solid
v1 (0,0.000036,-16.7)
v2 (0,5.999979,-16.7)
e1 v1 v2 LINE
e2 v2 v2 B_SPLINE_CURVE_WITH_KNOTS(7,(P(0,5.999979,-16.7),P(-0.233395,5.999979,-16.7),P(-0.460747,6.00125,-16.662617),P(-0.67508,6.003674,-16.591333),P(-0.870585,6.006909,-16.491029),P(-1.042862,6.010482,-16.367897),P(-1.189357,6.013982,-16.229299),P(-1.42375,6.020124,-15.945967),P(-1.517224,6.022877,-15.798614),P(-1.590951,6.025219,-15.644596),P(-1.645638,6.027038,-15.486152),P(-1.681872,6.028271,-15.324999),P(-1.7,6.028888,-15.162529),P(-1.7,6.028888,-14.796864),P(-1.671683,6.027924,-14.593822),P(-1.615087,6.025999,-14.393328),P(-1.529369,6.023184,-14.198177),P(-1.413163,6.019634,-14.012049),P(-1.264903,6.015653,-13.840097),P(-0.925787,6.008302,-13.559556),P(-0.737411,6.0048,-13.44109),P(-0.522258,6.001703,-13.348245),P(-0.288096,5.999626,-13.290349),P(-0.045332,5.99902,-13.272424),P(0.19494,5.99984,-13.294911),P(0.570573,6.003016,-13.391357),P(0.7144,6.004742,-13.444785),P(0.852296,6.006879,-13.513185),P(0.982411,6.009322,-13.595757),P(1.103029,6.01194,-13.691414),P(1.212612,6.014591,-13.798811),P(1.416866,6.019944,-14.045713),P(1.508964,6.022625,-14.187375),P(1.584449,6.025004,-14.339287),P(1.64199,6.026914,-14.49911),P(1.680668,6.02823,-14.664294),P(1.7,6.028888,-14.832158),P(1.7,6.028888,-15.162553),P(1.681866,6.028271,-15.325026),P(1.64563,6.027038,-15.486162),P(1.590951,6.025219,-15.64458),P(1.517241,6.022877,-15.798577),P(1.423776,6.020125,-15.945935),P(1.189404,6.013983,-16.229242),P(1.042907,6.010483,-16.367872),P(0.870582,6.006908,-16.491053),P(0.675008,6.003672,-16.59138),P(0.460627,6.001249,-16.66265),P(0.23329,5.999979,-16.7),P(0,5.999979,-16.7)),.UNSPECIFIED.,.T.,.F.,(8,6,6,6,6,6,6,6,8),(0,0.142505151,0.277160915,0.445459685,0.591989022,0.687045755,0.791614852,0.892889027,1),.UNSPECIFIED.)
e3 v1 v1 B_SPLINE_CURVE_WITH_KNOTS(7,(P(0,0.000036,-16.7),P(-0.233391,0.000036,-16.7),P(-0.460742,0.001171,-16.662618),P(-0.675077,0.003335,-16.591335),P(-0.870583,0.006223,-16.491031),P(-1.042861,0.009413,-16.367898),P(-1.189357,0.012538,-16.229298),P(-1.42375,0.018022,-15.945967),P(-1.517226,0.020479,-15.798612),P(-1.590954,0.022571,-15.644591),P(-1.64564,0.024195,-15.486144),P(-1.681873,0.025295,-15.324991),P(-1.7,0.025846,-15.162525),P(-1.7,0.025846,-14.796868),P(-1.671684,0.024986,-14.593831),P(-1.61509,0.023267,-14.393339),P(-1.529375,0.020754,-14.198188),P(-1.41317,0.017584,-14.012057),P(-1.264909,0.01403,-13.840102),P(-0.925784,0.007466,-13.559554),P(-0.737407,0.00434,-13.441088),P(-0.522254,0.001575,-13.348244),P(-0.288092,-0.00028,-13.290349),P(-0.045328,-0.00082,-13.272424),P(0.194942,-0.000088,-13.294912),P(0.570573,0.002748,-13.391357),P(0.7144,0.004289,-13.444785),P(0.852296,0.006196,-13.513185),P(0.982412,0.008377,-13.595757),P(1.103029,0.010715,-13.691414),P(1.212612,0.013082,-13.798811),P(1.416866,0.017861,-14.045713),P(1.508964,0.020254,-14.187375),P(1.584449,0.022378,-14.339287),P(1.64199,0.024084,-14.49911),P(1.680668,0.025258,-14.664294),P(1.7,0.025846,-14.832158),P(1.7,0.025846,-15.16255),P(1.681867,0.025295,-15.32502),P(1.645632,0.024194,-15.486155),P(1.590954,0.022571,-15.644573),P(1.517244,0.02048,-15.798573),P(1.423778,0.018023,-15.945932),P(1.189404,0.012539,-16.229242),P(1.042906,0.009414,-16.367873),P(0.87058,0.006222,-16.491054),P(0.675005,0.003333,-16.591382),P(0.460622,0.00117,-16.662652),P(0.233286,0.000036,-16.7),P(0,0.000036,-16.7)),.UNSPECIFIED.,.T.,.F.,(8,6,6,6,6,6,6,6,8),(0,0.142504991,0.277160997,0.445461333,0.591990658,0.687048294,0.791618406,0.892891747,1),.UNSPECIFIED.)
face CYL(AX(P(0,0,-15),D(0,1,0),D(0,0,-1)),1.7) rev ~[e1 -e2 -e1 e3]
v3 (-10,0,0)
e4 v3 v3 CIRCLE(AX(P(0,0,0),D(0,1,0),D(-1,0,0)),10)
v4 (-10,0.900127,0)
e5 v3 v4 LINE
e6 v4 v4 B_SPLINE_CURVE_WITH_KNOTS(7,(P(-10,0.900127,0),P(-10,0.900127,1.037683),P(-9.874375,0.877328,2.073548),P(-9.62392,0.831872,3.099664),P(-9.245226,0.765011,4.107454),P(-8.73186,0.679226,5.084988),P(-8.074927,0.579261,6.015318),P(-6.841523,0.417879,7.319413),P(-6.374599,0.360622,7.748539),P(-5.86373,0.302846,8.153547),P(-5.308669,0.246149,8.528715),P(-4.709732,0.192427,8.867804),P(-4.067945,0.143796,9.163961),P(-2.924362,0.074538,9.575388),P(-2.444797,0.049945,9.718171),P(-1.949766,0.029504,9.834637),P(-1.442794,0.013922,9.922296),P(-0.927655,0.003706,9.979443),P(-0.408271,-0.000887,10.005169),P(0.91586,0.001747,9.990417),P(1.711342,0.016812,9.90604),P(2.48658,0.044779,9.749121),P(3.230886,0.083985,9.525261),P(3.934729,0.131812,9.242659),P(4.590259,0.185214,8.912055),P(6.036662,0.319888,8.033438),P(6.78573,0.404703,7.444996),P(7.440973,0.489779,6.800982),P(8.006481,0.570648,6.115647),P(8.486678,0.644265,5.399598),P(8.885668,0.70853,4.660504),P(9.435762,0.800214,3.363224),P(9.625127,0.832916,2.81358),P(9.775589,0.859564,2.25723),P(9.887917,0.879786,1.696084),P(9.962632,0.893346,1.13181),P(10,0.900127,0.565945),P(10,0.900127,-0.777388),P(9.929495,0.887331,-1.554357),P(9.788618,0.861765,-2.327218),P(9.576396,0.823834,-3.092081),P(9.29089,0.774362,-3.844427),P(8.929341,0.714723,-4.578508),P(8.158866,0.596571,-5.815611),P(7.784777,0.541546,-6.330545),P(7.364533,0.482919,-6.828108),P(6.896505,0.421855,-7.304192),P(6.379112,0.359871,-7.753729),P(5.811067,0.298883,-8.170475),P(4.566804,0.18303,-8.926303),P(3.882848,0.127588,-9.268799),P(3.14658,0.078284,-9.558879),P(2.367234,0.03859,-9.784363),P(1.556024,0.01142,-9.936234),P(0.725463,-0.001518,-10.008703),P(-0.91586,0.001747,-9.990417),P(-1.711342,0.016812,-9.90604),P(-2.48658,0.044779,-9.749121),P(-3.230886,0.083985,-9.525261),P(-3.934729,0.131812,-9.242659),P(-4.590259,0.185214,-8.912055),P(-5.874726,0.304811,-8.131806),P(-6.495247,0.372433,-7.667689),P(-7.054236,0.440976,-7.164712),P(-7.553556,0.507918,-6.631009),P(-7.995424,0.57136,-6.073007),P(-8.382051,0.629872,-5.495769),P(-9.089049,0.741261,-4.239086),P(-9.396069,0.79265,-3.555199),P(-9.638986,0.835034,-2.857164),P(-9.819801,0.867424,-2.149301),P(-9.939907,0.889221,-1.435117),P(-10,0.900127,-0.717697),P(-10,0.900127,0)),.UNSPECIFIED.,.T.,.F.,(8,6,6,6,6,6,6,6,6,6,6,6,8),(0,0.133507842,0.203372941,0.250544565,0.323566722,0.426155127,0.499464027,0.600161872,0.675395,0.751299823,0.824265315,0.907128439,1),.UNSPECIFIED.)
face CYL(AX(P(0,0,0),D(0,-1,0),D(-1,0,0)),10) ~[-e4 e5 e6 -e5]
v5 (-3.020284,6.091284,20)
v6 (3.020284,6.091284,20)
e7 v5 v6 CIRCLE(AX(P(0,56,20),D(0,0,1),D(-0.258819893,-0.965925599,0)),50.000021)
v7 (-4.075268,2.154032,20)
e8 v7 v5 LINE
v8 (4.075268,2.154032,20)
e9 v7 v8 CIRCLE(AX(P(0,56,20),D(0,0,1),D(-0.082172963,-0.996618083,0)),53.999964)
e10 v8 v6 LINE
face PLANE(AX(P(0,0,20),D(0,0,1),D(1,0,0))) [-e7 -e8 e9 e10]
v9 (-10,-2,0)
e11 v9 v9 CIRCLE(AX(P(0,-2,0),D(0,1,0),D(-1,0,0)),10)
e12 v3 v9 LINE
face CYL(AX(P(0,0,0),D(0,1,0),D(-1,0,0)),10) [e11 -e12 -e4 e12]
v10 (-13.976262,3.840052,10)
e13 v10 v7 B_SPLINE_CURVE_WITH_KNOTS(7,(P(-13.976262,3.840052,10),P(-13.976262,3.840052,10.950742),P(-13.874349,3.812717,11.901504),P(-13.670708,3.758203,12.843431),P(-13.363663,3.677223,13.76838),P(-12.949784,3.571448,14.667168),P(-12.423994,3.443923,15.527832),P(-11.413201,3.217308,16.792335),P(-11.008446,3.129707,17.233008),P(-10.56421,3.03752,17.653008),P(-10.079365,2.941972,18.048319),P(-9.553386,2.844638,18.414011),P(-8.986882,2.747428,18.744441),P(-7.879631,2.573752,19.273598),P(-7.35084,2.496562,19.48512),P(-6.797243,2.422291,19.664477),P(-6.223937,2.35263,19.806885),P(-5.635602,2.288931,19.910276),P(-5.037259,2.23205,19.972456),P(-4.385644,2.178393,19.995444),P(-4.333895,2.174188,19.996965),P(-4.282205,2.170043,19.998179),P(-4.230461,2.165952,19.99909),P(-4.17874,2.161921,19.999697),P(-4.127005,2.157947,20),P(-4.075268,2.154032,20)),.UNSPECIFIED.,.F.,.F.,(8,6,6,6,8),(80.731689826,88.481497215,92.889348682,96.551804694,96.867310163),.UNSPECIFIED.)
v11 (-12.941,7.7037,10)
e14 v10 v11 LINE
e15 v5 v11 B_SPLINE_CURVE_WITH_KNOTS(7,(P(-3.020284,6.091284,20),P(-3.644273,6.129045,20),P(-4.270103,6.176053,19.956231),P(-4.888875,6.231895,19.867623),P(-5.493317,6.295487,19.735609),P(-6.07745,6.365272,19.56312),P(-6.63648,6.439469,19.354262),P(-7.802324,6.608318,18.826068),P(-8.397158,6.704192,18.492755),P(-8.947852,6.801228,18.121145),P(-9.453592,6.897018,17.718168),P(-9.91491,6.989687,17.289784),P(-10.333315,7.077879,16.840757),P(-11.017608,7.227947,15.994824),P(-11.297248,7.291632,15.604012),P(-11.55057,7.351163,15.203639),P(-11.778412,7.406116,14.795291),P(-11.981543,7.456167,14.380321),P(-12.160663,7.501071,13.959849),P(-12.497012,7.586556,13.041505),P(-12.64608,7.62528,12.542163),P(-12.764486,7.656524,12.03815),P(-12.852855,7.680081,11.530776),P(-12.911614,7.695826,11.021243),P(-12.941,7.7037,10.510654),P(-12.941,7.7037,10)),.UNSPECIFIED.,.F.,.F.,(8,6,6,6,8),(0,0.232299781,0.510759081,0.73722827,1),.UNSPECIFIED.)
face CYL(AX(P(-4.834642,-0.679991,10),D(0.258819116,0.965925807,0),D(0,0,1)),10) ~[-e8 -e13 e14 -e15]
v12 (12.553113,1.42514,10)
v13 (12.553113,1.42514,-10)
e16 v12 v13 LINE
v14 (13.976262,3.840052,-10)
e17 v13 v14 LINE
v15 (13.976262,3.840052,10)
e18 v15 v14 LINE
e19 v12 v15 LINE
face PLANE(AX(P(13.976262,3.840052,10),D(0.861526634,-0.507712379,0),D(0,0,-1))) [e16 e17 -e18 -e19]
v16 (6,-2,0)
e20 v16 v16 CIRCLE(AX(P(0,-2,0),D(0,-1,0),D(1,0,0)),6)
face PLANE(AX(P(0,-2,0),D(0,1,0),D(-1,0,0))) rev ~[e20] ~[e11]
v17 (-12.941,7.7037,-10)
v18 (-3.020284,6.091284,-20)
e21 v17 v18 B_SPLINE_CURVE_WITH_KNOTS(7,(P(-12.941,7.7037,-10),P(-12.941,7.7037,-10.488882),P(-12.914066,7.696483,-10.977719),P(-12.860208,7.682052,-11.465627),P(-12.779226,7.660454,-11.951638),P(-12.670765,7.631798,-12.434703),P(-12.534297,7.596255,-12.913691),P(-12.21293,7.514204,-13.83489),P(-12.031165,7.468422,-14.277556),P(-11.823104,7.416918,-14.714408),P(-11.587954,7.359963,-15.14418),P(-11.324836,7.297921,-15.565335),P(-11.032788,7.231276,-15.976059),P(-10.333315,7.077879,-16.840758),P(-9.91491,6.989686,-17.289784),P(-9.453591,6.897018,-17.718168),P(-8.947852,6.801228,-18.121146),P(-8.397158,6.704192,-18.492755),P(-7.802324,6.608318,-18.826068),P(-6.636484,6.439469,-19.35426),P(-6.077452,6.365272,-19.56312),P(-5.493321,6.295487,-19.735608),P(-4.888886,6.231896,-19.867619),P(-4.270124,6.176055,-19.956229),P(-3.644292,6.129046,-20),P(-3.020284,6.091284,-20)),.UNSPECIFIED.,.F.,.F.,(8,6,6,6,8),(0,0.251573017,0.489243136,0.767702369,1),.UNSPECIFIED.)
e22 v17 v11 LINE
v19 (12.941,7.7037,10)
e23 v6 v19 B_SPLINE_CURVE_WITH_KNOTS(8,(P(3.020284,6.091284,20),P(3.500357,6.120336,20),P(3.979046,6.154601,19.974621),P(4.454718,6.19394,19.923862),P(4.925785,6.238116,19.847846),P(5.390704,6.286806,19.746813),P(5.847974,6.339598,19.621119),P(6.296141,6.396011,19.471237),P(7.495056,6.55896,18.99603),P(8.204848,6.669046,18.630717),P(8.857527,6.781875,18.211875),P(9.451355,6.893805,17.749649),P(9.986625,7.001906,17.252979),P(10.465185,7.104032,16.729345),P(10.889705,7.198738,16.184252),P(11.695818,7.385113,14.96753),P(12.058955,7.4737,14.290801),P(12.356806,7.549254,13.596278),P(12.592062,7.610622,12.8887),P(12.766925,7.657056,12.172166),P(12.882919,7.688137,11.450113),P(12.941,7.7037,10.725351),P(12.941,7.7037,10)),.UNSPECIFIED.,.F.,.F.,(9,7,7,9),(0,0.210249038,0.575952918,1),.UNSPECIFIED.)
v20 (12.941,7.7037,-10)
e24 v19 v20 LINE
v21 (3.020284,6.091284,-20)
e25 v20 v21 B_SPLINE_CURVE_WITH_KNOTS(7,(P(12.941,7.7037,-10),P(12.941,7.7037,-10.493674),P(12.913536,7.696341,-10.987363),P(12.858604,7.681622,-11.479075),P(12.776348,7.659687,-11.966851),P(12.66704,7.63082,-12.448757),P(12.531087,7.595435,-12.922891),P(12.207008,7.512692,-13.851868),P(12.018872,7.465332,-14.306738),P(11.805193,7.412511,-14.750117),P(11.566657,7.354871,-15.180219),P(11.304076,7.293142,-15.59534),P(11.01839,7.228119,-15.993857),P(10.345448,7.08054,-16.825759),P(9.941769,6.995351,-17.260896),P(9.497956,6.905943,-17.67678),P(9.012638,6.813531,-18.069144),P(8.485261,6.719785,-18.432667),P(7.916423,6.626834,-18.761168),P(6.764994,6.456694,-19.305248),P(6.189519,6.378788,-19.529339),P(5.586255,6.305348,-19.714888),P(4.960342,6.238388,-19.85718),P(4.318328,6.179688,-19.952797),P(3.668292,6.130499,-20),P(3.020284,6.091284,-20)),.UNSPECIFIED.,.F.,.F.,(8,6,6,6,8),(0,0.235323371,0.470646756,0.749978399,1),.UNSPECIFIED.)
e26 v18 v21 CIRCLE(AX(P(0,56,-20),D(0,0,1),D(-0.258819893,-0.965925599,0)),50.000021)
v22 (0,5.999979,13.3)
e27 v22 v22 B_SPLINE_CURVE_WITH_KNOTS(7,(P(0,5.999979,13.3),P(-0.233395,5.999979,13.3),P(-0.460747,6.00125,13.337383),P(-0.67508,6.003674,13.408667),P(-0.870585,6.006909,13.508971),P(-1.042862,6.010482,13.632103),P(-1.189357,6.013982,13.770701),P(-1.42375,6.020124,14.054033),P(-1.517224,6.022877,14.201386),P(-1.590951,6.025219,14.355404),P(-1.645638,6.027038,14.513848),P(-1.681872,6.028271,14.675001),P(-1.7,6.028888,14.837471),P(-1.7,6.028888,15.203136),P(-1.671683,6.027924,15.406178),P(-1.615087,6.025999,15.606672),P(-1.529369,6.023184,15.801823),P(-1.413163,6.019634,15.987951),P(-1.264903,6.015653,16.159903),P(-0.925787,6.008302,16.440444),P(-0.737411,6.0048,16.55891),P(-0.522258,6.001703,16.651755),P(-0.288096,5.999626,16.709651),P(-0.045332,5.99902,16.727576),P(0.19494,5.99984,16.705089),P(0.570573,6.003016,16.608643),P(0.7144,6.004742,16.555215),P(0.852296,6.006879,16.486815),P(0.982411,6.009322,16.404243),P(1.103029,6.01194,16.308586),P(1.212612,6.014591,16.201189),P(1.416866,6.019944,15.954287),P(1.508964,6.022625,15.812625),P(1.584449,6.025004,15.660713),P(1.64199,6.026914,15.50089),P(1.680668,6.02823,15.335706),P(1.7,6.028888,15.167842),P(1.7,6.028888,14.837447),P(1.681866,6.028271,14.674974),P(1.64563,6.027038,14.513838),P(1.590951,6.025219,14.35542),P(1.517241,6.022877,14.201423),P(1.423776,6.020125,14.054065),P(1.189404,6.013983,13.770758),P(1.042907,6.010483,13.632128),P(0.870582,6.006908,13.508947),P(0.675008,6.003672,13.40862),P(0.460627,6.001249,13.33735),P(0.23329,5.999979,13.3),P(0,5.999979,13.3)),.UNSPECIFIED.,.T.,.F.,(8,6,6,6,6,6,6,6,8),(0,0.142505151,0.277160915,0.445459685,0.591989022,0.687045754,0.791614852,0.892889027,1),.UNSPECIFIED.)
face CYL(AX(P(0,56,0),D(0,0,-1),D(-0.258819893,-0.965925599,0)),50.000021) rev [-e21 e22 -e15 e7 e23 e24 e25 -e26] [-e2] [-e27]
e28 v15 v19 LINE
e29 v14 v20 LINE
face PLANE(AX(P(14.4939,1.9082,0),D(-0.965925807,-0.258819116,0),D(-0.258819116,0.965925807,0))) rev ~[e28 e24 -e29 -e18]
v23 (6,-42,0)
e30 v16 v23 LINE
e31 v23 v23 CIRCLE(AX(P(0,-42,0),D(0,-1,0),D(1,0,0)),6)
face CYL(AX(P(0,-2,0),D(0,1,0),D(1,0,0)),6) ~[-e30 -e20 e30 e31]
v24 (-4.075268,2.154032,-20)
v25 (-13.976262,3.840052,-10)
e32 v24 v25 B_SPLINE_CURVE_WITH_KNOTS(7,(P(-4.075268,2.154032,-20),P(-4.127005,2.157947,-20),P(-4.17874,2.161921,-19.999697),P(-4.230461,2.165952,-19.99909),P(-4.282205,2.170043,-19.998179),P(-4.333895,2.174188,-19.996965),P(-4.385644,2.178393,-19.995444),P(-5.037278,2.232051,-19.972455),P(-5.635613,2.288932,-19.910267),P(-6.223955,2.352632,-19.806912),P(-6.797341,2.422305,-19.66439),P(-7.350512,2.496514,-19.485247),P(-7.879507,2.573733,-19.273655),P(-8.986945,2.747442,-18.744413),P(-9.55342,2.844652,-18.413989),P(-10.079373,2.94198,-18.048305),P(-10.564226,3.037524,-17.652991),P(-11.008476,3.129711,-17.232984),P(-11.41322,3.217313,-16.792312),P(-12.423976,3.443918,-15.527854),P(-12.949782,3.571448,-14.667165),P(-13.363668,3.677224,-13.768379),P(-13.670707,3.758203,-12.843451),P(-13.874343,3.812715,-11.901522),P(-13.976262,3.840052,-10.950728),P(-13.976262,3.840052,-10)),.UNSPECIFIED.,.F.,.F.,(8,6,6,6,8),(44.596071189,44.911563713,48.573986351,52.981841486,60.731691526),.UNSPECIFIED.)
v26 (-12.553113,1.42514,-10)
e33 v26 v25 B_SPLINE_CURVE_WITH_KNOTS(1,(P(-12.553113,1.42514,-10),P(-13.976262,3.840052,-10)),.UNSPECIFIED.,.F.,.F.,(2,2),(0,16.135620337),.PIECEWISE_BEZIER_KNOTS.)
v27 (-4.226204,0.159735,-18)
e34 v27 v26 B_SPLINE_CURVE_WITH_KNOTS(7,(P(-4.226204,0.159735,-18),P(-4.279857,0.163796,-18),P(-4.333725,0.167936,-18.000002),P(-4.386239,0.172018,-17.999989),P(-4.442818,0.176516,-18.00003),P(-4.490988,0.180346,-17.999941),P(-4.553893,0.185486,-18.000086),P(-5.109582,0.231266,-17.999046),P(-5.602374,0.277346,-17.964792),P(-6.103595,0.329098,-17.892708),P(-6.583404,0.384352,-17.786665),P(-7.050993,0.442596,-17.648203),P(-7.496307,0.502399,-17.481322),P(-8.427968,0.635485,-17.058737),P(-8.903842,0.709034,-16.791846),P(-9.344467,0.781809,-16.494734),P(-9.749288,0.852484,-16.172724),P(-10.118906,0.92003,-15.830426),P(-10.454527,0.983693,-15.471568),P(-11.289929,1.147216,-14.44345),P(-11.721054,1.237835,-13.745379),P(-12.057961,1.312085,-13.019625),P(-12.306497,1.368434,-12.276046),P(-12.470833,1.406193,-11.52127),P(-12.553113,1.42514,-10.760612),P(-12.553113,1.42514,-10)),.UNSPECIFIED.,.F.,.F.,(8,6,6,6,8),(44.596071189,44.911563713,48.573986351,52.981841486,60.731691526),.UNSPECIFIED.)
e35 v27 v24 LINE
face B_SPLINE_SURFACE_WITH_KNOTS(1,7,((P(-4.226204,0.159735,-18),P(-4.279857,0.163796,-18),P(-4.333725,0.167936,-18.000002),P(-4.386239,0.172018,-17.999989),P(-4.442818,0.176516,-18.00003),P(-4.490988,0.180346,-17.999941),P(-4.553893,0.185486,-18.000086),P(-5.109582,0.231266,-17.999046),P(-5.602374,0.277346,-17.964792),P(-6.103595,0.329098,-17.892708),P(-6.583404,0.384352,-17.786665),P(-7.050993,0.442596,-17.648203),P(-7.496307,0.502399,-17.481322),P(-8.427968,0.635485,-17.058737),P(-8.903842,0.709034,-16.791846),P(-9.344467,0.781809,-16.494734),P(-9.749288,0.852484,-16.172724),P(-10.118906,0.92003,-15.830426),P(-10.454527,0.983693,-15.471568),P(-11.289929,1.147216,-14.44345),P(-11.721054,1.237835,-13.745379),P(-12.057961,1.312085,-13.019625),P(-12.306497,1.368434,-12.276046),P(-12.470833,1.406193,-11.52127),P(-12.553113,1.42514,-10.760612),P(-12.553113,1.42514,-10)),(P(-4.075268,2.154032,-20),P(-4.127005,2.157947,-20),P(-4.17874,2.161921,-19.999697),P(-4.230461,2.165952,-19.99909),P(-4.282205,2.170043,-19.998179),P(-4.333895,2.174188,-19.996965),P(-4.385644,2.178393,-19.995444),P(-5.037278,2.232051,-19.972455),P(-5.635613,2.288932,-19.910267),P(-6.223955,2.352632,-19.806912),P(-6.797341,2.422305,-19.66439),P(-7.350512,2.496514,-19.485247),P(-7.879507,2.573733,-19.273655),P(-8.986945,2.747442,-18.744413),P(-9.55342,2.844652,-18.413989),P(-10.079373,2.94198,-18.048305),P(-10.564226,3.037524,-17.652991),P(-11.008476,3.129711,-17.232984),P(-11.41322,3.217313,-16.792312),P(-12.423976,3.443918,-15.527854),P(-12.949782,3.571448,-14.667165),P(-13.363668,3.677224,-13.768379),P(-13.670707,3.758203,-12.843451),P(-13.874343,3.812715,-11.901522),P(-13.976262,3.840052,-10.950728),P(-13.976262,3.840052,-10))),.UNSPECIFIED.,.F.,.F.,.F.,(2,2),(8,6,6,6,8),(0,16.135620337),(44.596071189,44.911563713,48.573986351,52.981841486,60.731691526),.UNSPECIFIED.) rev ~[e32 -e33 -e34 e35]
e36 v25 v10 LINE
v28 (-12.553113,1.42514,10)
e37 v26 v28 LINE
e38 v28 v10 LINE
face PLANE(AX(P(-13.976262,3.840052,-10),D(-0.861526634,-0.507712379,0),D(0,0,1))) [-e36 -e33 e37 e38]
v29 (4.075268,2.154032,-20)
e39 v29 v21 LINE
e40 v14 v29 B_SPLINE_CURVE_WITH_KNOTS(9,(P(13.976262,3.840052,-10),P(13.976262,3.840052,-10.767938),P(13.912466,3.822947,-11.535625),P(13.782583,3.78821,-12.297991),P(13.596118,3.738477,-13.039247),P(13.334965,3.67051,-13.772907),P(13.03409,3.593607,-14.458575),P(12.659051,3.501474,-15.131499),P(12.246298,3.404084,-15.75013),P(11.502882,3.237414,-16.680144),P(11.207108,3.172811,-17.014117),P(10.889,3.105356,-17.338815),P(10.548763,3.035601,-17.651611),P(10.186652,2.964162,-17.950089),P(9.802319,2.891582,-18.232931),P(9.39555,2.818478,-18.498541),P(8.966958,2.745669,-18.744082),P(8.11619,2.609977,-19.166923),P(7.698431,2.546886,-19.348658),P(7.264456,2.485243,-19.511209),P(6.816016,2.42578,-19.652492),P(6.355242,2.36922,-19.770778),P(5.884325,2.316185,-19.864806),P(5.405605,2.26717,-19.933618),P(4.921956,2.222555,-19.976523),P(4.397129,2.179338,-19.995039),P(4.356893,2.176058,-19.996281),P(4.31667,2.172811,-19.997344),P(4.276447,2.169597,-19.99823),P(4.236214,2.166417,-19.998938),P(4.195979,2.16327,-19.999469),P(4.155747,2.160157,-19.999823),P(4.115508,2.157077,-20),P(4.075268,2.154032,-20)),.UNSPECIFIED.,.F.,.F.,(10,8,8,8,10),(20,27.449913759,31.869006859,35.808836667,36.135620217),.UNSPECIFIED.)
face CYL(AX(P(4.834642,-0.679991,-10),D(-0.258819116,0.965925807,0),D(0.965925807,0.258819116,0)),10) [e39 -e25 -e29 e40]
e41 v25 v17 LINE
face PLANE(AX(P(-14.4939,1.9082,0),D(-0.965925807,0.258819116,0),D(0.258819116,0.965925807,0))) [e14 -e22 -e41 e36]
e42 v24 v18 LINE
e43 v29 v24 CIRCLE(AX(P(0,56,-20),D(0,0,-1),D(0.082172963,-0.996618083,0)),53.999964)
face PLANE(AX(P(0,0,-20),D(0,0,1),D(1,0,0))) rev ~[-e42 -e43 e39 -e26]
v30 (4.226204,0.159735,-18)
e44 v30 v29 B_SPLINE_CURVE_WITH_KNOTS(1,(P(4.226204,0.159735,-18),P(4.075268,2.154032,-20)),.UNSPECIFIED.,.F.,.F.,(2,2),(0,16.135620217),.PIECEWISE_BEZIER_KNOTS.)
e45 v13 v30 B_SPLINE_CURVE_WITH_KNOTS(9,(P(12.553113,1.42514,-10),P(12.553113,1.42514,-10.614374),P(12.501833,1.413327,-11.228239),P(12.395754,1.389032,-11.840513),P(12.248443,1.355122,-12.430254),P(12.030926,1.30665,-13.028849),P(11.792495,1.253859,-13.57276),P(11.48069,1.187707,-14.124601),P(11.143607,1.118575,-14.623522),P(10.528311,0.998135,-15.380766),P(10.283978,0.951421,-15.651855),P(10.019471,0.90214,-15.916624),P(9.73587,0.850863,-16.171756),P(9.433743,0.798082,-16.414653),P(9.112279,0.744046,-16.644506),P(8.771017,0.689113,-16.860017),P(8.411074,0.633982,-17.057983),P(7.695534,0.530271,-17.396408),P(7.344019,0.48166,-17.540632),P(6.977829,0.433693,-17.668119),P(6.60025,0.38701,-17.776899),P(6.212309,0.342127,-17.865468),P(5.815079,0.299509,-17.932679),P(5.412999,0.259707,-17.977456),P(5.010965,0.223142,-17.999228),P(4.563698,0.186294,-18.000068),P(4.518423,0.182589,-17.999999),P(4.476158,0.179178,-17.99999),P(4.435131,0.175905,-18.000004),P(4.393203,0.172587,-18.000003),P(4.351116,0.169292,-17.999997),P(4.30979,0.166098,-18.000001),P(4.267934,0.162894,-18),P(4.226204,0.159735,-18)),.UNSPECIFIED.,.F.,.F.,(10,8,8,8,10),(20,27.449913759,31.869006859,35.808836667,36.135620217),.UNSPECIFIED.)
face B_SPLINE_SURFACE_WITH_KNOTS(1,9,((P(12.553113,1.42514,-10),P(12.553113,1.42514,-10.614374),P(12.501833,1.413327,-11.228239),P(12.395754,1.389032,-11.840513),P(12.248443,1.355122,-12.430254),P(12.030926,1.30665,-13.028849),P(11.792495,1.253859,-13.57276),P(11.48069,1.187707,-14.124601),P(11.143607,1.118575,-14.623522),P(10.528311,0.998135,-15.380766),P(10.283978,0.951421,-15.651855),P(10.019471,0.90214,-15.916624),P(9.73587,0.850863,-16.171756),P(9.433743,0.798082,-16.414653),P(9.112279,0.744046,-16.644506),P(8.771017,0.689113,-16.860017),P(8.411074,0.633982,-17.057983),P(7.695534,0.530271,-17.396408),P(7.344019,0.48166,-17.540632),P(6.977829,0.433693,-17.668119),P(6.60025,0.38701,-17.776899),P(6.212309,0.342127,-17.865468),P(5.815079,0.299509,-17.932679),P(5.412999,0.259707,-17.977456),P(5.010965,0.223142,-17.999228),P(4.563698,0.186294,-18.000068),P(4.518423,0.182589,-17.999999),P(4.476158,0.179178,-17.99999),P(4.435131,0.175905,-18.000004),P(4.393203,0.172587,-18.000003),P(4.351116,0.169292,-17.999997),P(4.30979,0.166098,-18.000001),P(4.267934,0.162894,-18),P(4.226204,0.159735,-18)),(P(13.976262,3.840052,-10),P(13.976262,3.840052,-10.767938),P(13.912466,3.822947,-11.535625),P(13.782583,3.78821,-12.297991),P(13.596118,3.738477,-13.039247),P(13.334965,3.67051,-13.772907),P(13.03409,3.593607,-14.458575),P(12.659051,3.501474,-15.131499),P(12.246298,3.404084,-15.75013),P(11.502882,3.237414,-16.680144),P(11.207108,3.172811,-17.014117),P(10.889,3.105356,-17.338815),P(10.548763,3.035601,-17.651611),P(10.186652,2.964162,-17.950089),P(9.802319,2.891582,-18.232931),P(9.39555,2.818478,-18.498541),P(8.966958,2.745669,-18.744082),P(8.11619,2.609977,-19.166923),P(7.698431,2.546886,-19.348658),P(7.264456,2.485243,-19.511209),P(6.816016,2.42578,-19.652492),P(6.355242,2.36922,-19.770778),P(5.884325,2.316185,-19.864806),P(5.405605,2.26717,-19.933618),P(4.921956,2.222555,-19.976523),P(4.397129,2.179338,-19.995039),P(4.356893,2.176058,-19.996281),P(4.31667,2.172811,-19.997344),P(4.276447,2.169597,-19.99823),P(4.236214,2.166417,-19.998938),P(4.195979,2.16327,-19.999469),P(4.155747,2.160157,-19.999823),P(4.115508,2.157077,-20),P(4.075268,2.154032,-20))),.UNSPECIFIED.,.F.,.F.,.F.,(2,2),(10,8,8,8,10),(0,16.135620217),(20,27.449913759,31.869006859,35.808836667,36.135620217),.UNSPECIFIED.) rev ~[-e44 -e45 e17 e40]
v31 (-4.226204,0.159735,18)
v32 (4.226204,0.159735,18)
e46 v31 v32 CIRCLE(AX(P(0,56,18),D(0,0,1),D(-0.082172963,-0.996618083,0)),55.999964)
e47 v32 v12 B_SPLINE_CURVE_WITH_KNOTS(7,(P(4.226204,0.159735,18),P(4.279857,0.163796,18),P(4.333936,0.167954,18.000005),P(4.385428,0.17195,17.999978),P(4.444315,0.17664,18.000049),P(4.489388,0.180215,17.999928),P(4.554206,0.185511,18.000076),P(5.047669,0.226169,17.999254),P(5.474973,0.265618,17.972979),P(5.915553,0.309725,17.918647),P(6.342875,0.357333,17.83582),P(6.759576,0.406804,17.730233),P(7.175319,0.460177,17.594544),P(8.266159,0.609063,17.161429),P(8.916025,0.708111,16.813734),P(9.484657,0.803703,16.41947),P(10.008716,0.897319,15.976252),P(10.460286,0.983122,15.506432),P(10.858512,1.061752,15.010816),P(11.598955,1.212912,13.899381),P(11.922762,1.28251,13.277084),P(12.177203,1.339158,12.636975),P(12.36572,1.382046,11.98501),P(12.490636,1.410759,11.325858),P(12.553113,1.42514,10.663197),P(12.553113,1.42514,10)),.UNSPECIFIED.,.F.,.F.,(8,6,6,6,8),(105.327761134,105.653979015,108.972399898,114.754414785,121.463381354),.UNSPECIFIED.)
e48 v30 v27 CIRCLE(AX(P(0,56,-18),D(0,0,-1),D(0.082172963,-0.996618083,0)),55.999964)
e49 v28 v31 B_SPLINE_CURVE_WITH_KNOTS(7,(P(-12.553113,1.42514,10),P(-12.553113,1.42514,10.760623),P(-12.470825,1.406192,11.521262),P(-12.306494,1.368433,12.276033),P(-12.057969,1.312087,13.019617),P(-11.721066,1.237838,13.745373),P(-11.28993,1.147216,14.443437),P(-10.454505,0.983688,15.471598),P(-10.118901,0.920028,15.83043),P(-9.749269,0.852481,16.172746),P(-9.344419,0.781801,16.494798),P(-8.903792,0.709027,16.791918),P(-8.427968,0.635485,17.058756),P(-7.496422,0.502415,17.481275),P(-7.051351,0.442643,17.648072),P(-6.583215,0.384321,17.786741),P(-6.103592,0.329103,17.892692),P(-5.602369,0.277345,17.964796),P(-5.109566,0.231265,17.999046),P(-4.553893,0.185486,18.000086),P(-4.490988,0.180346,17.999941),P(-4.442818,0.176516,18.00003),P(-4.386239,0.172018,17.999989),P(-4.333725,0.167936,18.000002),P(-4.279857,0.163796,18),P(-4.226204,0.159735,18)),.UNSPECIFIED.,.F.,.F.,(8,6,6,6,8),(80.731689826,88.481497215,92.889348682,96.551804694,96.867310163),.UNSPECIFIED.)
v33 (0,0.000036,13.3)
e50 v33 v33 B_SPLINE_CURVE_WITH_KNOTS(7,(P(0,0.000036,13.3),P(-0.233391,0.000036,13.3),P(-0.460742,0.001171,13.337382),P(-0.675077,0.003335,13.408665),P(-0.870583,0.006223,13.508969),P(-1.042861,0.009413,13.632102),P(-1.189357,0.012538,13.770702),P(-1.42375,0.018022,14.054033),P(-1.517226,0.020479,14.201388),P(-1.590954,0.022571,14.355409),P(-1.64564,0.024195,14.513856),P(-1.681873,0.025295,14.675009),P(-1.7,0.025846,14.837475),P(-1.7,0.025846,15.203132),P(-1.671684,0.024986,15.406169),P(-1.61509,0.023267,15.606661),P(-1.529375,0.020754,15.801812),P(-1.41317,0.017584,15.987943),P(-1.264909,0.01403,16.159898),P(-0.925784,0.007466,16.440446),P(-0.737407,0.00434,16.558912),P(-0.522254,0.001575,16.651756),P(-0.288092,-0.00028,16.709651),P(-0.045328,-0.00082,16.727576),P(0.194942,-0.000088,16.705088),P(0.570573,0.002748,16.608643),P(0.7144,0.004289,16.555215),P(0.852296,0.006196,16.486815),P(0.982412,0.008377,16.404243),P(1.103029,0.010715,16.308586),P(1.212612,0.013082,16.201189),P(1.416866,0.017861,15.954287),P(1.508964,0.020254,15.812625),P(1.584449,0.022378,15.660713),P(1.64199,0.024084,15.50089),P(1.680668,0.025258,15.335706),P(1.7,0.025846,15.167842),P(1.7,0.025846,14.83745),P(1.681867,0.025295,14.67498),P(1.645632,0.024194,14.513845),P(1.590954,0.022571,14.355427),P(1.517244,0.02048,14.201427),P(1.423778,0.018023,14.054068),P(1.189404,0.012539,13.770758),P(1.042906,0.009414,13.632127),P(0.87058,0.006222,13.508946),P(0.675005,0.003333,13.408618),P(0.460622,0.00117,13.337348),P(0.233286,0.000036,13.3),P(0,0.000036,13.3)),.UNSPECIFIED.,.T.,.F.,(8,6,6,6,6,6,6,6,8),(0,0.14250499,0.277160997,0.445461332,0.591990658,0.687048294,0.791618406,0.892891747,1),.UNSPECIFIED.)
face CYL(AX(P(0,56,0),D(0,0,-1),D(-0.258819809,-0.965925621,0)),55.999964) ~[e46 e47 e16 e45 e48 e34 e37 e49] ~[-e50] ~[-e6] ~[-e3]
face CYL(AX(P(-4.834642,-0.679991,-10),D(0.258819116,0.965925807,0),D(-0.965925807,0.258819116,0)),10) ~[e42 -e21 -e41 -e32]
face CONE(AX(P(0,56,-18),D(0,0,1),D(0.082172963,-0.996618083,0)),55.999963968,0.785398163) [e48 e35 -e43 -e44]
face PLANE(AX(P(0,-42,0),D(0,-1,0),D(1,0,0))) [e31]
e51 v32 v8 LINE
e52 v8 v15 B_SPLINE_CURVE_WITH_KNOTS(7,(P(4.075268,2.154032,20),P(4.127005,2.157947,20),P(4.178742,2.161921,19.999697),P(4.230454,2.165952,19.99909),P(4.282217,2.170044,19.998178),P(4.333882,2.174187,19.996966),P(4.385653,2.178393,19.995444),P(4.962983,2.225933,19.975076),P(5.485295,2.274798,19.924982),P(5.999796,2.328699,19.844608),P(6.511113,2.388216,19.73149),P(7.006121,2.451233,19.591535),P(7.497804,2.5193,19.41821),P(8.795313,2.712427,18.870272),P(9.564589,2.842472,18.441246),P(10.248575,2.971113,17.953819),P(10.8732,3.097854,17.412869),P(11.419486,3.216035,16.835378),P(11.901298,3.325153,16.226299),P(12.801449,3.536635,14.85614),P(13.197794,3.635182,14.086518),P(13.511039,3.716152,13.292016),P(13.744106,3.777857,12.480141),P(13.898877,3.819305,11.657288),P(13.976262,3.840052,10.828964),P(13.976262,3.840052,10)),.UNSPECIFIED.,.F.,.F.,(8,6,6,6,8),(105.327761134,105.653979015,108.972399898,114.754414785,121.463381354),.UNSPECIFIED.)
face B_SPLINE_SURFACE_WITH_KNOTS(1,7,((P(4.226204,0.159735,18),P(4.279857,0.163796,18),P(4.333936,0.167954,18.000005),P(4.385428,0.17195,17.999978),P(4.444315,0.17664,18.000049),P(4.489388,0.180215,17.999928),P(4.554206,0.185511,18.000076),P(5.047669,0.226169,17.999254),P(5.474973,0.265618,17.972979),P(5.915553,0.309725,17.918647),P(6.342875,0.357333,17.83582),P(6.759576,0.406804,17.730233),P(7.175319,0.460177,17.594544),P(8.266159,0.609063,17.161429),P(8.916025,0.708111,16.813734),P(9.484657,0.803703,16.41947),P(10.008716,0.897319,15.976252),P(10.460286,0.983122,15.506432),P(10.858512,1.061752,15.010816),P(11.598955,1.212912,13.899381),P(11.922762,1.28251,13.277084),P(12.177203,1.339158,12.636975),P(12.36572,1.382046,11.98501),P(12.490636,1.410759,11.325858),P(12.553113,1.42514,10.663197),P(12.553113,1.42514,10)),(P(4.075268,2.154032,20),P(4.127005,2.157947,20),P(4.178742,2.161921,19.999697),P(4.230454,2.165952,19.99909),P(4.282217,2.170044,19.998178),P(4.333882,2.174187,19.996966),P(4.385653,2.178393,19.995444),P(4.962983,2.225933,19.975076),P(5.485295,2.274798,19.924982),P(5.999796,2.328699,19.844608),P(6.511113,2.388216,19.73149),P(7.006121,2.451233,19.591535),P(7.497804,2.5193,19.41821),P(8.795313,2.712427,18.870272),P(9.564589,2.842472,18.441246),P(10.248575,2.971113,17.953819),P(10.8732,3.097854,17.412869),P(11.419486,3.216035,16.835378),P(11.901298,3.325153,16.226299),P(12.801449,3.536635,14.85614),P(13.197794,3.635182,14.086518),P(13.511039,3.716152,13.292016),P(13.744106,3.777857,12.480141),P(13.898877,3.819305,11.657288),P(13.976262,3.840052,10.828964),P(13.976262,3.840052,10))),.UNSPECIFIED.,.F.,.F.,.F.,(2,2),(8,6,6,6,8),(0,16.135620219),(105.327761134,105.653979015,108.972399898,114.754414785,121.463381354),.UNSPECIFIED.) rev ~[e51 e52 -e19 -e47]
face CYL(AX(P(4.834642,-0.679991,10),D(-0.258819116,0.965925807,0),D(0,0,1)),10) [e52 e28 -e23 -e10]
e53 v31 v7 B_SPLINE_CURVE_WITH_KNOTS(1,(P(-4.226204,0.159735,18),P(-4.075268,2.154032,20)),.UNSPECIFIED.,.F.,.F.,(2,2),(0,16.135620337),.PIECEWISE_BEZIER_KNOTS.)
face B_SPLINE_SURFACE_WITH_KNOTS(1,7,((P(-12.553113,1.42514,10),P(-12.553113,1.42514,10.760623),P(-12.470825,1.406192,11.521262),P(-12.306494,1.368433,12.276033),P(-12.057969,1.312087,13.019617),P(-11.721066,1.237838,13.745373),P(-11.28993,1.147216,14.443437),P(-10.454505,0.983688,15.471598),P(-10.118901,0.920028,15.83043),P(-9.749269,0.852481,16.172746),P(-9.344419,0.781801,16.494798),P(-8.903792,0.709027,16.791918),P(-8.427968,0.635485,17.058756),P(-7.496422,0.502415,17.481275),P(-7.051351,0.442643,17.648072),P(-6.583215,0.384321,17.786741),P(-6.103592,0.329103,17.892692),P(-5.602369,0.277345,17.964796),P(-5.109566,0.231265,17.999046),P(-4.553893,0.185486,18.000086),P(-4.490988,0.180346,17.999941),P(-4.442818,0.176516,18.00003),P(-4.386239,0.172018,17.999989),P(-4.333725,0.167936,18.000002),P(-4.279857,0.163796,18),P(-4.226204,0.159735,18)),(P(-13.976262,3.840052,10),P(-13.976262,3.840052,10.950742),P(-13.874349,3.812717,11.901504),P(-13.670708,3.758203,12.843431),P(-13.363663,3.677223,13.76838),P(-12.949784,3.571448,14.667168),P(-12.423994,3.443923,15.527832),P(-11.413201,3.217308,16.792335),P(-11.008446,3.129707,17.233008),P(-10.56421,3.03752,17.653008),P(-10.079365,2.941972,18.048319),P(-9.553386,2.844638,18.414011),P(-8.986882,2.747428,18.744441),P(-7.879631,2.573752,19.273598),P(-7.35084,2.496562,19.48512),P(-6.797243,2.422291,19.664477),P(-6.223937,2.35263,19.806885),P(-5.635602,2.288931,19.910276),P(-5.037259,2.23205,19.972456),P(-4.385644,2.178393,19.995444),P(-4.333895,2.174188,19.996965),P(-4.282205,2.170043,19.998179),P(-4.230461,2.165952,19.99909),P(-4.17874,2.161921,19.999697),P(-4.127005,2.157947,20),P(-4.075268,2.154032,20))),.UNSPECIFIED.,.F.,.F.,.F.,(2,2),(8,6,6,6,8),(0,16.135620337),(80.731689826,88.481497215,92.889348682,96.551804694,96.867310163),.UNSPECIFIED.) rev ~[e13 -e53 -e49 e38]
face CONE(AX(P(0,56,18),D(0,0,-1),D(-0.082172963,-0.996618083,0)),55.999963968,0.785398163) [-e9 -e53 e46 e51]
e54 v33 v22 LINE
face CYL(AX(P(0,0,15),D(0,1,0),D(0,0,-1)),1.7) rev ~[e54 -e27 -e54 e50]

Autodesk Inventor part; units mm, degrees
ref_plane "YZ Plane" through (0, 0, 0) normal (1, 0, 0) x (0, 1, 0)
ref_plane "XZ Plane" through (0, 0, 0) normal (0, 1, 0) x (-1, 0, 0)
ref_plane "XY Plane" through (0, 0, 0) normal (0, 0, 1) x (1, 0, 0)
sketch "Sketch1" plane through (0, 0, 0) normal (0, 0, 1) x (1, 0, 0)
  arc A0 (-12.941, 7.7037) -> (12.941, 7.7037) centre (0, 56) ccw
  arc A1 (-14.4939, 1.9082) -> (14.4939, 1.9082) centre (0, 56) ccw
  line L0 (-14.4939, 1.9082) -> (-12.941, 7.7037)
  line L1 (14.4939, 1.9082) -> (12.941, 7.7037)
  line L2 (0, -11.2) -> (0, 67.2) construction
  point P0 (0, 0)
  dimension "d0" = 6
  dimension "d1" = 50
  dimension "d2" = 30
extrude "Extrusion1" add sketch "Sketch1" along normal mid plane 40
sketch "Sketch2" plane through (0, 0, 0) normal (0, 1, 0) x (-1, 0, 0)
  point P0 (0, 0)
  point P1 (0, -15)
  point P2 (0, 15)
  dimension "d5" = 15
  dimension "d6" = 15
hole "Hole1" at (0, 0, -15) at (0, 0, 15) direction (0, 1, 0) diameter 3.4 end through all clearance for "Socket Head Cap Screw DIN EN ISO 4762" size "M3" standard "DIN"
sketch "Sketch4" plane through (0, 0, 0) normal (0, 1, 0) x (-1, 0, 0)
  circle A0 centre (0, 0) radius 10
  dimension "d20" = 20
extrude "Extrusion3" add sketch "Sketch4" along normal up to surface
extrude "Extrusion4" add sketch "Sketch4" against normal blind 2
fillet "Fillet2" radius 10 4 edges at (-13.7174, 4.8059, -20) (13.7174, 4.8059, -20) (13.7174, 4.8059, 20) (-13.7174, 4.8059, 20)
sketch "Sketch6" plane through (0, -2, 0) normal (0, -1, 0) x (1, 0, 0)
  circle A0 centre (0, 0) radius 6
  dimension "d27" = 12
extrude "Extrusion5" add sketch "Sketch6" along normal blind 40
chamfer "Chamfer1" distance 2 angle 45 4 edges at (14.4939, 1.9082, 0) (0, 0, -20) (-14.4939, 1.9082, 0) (0, 0, 20)
equation "\"d6\" = d5"
properties part number "Mount_A"
